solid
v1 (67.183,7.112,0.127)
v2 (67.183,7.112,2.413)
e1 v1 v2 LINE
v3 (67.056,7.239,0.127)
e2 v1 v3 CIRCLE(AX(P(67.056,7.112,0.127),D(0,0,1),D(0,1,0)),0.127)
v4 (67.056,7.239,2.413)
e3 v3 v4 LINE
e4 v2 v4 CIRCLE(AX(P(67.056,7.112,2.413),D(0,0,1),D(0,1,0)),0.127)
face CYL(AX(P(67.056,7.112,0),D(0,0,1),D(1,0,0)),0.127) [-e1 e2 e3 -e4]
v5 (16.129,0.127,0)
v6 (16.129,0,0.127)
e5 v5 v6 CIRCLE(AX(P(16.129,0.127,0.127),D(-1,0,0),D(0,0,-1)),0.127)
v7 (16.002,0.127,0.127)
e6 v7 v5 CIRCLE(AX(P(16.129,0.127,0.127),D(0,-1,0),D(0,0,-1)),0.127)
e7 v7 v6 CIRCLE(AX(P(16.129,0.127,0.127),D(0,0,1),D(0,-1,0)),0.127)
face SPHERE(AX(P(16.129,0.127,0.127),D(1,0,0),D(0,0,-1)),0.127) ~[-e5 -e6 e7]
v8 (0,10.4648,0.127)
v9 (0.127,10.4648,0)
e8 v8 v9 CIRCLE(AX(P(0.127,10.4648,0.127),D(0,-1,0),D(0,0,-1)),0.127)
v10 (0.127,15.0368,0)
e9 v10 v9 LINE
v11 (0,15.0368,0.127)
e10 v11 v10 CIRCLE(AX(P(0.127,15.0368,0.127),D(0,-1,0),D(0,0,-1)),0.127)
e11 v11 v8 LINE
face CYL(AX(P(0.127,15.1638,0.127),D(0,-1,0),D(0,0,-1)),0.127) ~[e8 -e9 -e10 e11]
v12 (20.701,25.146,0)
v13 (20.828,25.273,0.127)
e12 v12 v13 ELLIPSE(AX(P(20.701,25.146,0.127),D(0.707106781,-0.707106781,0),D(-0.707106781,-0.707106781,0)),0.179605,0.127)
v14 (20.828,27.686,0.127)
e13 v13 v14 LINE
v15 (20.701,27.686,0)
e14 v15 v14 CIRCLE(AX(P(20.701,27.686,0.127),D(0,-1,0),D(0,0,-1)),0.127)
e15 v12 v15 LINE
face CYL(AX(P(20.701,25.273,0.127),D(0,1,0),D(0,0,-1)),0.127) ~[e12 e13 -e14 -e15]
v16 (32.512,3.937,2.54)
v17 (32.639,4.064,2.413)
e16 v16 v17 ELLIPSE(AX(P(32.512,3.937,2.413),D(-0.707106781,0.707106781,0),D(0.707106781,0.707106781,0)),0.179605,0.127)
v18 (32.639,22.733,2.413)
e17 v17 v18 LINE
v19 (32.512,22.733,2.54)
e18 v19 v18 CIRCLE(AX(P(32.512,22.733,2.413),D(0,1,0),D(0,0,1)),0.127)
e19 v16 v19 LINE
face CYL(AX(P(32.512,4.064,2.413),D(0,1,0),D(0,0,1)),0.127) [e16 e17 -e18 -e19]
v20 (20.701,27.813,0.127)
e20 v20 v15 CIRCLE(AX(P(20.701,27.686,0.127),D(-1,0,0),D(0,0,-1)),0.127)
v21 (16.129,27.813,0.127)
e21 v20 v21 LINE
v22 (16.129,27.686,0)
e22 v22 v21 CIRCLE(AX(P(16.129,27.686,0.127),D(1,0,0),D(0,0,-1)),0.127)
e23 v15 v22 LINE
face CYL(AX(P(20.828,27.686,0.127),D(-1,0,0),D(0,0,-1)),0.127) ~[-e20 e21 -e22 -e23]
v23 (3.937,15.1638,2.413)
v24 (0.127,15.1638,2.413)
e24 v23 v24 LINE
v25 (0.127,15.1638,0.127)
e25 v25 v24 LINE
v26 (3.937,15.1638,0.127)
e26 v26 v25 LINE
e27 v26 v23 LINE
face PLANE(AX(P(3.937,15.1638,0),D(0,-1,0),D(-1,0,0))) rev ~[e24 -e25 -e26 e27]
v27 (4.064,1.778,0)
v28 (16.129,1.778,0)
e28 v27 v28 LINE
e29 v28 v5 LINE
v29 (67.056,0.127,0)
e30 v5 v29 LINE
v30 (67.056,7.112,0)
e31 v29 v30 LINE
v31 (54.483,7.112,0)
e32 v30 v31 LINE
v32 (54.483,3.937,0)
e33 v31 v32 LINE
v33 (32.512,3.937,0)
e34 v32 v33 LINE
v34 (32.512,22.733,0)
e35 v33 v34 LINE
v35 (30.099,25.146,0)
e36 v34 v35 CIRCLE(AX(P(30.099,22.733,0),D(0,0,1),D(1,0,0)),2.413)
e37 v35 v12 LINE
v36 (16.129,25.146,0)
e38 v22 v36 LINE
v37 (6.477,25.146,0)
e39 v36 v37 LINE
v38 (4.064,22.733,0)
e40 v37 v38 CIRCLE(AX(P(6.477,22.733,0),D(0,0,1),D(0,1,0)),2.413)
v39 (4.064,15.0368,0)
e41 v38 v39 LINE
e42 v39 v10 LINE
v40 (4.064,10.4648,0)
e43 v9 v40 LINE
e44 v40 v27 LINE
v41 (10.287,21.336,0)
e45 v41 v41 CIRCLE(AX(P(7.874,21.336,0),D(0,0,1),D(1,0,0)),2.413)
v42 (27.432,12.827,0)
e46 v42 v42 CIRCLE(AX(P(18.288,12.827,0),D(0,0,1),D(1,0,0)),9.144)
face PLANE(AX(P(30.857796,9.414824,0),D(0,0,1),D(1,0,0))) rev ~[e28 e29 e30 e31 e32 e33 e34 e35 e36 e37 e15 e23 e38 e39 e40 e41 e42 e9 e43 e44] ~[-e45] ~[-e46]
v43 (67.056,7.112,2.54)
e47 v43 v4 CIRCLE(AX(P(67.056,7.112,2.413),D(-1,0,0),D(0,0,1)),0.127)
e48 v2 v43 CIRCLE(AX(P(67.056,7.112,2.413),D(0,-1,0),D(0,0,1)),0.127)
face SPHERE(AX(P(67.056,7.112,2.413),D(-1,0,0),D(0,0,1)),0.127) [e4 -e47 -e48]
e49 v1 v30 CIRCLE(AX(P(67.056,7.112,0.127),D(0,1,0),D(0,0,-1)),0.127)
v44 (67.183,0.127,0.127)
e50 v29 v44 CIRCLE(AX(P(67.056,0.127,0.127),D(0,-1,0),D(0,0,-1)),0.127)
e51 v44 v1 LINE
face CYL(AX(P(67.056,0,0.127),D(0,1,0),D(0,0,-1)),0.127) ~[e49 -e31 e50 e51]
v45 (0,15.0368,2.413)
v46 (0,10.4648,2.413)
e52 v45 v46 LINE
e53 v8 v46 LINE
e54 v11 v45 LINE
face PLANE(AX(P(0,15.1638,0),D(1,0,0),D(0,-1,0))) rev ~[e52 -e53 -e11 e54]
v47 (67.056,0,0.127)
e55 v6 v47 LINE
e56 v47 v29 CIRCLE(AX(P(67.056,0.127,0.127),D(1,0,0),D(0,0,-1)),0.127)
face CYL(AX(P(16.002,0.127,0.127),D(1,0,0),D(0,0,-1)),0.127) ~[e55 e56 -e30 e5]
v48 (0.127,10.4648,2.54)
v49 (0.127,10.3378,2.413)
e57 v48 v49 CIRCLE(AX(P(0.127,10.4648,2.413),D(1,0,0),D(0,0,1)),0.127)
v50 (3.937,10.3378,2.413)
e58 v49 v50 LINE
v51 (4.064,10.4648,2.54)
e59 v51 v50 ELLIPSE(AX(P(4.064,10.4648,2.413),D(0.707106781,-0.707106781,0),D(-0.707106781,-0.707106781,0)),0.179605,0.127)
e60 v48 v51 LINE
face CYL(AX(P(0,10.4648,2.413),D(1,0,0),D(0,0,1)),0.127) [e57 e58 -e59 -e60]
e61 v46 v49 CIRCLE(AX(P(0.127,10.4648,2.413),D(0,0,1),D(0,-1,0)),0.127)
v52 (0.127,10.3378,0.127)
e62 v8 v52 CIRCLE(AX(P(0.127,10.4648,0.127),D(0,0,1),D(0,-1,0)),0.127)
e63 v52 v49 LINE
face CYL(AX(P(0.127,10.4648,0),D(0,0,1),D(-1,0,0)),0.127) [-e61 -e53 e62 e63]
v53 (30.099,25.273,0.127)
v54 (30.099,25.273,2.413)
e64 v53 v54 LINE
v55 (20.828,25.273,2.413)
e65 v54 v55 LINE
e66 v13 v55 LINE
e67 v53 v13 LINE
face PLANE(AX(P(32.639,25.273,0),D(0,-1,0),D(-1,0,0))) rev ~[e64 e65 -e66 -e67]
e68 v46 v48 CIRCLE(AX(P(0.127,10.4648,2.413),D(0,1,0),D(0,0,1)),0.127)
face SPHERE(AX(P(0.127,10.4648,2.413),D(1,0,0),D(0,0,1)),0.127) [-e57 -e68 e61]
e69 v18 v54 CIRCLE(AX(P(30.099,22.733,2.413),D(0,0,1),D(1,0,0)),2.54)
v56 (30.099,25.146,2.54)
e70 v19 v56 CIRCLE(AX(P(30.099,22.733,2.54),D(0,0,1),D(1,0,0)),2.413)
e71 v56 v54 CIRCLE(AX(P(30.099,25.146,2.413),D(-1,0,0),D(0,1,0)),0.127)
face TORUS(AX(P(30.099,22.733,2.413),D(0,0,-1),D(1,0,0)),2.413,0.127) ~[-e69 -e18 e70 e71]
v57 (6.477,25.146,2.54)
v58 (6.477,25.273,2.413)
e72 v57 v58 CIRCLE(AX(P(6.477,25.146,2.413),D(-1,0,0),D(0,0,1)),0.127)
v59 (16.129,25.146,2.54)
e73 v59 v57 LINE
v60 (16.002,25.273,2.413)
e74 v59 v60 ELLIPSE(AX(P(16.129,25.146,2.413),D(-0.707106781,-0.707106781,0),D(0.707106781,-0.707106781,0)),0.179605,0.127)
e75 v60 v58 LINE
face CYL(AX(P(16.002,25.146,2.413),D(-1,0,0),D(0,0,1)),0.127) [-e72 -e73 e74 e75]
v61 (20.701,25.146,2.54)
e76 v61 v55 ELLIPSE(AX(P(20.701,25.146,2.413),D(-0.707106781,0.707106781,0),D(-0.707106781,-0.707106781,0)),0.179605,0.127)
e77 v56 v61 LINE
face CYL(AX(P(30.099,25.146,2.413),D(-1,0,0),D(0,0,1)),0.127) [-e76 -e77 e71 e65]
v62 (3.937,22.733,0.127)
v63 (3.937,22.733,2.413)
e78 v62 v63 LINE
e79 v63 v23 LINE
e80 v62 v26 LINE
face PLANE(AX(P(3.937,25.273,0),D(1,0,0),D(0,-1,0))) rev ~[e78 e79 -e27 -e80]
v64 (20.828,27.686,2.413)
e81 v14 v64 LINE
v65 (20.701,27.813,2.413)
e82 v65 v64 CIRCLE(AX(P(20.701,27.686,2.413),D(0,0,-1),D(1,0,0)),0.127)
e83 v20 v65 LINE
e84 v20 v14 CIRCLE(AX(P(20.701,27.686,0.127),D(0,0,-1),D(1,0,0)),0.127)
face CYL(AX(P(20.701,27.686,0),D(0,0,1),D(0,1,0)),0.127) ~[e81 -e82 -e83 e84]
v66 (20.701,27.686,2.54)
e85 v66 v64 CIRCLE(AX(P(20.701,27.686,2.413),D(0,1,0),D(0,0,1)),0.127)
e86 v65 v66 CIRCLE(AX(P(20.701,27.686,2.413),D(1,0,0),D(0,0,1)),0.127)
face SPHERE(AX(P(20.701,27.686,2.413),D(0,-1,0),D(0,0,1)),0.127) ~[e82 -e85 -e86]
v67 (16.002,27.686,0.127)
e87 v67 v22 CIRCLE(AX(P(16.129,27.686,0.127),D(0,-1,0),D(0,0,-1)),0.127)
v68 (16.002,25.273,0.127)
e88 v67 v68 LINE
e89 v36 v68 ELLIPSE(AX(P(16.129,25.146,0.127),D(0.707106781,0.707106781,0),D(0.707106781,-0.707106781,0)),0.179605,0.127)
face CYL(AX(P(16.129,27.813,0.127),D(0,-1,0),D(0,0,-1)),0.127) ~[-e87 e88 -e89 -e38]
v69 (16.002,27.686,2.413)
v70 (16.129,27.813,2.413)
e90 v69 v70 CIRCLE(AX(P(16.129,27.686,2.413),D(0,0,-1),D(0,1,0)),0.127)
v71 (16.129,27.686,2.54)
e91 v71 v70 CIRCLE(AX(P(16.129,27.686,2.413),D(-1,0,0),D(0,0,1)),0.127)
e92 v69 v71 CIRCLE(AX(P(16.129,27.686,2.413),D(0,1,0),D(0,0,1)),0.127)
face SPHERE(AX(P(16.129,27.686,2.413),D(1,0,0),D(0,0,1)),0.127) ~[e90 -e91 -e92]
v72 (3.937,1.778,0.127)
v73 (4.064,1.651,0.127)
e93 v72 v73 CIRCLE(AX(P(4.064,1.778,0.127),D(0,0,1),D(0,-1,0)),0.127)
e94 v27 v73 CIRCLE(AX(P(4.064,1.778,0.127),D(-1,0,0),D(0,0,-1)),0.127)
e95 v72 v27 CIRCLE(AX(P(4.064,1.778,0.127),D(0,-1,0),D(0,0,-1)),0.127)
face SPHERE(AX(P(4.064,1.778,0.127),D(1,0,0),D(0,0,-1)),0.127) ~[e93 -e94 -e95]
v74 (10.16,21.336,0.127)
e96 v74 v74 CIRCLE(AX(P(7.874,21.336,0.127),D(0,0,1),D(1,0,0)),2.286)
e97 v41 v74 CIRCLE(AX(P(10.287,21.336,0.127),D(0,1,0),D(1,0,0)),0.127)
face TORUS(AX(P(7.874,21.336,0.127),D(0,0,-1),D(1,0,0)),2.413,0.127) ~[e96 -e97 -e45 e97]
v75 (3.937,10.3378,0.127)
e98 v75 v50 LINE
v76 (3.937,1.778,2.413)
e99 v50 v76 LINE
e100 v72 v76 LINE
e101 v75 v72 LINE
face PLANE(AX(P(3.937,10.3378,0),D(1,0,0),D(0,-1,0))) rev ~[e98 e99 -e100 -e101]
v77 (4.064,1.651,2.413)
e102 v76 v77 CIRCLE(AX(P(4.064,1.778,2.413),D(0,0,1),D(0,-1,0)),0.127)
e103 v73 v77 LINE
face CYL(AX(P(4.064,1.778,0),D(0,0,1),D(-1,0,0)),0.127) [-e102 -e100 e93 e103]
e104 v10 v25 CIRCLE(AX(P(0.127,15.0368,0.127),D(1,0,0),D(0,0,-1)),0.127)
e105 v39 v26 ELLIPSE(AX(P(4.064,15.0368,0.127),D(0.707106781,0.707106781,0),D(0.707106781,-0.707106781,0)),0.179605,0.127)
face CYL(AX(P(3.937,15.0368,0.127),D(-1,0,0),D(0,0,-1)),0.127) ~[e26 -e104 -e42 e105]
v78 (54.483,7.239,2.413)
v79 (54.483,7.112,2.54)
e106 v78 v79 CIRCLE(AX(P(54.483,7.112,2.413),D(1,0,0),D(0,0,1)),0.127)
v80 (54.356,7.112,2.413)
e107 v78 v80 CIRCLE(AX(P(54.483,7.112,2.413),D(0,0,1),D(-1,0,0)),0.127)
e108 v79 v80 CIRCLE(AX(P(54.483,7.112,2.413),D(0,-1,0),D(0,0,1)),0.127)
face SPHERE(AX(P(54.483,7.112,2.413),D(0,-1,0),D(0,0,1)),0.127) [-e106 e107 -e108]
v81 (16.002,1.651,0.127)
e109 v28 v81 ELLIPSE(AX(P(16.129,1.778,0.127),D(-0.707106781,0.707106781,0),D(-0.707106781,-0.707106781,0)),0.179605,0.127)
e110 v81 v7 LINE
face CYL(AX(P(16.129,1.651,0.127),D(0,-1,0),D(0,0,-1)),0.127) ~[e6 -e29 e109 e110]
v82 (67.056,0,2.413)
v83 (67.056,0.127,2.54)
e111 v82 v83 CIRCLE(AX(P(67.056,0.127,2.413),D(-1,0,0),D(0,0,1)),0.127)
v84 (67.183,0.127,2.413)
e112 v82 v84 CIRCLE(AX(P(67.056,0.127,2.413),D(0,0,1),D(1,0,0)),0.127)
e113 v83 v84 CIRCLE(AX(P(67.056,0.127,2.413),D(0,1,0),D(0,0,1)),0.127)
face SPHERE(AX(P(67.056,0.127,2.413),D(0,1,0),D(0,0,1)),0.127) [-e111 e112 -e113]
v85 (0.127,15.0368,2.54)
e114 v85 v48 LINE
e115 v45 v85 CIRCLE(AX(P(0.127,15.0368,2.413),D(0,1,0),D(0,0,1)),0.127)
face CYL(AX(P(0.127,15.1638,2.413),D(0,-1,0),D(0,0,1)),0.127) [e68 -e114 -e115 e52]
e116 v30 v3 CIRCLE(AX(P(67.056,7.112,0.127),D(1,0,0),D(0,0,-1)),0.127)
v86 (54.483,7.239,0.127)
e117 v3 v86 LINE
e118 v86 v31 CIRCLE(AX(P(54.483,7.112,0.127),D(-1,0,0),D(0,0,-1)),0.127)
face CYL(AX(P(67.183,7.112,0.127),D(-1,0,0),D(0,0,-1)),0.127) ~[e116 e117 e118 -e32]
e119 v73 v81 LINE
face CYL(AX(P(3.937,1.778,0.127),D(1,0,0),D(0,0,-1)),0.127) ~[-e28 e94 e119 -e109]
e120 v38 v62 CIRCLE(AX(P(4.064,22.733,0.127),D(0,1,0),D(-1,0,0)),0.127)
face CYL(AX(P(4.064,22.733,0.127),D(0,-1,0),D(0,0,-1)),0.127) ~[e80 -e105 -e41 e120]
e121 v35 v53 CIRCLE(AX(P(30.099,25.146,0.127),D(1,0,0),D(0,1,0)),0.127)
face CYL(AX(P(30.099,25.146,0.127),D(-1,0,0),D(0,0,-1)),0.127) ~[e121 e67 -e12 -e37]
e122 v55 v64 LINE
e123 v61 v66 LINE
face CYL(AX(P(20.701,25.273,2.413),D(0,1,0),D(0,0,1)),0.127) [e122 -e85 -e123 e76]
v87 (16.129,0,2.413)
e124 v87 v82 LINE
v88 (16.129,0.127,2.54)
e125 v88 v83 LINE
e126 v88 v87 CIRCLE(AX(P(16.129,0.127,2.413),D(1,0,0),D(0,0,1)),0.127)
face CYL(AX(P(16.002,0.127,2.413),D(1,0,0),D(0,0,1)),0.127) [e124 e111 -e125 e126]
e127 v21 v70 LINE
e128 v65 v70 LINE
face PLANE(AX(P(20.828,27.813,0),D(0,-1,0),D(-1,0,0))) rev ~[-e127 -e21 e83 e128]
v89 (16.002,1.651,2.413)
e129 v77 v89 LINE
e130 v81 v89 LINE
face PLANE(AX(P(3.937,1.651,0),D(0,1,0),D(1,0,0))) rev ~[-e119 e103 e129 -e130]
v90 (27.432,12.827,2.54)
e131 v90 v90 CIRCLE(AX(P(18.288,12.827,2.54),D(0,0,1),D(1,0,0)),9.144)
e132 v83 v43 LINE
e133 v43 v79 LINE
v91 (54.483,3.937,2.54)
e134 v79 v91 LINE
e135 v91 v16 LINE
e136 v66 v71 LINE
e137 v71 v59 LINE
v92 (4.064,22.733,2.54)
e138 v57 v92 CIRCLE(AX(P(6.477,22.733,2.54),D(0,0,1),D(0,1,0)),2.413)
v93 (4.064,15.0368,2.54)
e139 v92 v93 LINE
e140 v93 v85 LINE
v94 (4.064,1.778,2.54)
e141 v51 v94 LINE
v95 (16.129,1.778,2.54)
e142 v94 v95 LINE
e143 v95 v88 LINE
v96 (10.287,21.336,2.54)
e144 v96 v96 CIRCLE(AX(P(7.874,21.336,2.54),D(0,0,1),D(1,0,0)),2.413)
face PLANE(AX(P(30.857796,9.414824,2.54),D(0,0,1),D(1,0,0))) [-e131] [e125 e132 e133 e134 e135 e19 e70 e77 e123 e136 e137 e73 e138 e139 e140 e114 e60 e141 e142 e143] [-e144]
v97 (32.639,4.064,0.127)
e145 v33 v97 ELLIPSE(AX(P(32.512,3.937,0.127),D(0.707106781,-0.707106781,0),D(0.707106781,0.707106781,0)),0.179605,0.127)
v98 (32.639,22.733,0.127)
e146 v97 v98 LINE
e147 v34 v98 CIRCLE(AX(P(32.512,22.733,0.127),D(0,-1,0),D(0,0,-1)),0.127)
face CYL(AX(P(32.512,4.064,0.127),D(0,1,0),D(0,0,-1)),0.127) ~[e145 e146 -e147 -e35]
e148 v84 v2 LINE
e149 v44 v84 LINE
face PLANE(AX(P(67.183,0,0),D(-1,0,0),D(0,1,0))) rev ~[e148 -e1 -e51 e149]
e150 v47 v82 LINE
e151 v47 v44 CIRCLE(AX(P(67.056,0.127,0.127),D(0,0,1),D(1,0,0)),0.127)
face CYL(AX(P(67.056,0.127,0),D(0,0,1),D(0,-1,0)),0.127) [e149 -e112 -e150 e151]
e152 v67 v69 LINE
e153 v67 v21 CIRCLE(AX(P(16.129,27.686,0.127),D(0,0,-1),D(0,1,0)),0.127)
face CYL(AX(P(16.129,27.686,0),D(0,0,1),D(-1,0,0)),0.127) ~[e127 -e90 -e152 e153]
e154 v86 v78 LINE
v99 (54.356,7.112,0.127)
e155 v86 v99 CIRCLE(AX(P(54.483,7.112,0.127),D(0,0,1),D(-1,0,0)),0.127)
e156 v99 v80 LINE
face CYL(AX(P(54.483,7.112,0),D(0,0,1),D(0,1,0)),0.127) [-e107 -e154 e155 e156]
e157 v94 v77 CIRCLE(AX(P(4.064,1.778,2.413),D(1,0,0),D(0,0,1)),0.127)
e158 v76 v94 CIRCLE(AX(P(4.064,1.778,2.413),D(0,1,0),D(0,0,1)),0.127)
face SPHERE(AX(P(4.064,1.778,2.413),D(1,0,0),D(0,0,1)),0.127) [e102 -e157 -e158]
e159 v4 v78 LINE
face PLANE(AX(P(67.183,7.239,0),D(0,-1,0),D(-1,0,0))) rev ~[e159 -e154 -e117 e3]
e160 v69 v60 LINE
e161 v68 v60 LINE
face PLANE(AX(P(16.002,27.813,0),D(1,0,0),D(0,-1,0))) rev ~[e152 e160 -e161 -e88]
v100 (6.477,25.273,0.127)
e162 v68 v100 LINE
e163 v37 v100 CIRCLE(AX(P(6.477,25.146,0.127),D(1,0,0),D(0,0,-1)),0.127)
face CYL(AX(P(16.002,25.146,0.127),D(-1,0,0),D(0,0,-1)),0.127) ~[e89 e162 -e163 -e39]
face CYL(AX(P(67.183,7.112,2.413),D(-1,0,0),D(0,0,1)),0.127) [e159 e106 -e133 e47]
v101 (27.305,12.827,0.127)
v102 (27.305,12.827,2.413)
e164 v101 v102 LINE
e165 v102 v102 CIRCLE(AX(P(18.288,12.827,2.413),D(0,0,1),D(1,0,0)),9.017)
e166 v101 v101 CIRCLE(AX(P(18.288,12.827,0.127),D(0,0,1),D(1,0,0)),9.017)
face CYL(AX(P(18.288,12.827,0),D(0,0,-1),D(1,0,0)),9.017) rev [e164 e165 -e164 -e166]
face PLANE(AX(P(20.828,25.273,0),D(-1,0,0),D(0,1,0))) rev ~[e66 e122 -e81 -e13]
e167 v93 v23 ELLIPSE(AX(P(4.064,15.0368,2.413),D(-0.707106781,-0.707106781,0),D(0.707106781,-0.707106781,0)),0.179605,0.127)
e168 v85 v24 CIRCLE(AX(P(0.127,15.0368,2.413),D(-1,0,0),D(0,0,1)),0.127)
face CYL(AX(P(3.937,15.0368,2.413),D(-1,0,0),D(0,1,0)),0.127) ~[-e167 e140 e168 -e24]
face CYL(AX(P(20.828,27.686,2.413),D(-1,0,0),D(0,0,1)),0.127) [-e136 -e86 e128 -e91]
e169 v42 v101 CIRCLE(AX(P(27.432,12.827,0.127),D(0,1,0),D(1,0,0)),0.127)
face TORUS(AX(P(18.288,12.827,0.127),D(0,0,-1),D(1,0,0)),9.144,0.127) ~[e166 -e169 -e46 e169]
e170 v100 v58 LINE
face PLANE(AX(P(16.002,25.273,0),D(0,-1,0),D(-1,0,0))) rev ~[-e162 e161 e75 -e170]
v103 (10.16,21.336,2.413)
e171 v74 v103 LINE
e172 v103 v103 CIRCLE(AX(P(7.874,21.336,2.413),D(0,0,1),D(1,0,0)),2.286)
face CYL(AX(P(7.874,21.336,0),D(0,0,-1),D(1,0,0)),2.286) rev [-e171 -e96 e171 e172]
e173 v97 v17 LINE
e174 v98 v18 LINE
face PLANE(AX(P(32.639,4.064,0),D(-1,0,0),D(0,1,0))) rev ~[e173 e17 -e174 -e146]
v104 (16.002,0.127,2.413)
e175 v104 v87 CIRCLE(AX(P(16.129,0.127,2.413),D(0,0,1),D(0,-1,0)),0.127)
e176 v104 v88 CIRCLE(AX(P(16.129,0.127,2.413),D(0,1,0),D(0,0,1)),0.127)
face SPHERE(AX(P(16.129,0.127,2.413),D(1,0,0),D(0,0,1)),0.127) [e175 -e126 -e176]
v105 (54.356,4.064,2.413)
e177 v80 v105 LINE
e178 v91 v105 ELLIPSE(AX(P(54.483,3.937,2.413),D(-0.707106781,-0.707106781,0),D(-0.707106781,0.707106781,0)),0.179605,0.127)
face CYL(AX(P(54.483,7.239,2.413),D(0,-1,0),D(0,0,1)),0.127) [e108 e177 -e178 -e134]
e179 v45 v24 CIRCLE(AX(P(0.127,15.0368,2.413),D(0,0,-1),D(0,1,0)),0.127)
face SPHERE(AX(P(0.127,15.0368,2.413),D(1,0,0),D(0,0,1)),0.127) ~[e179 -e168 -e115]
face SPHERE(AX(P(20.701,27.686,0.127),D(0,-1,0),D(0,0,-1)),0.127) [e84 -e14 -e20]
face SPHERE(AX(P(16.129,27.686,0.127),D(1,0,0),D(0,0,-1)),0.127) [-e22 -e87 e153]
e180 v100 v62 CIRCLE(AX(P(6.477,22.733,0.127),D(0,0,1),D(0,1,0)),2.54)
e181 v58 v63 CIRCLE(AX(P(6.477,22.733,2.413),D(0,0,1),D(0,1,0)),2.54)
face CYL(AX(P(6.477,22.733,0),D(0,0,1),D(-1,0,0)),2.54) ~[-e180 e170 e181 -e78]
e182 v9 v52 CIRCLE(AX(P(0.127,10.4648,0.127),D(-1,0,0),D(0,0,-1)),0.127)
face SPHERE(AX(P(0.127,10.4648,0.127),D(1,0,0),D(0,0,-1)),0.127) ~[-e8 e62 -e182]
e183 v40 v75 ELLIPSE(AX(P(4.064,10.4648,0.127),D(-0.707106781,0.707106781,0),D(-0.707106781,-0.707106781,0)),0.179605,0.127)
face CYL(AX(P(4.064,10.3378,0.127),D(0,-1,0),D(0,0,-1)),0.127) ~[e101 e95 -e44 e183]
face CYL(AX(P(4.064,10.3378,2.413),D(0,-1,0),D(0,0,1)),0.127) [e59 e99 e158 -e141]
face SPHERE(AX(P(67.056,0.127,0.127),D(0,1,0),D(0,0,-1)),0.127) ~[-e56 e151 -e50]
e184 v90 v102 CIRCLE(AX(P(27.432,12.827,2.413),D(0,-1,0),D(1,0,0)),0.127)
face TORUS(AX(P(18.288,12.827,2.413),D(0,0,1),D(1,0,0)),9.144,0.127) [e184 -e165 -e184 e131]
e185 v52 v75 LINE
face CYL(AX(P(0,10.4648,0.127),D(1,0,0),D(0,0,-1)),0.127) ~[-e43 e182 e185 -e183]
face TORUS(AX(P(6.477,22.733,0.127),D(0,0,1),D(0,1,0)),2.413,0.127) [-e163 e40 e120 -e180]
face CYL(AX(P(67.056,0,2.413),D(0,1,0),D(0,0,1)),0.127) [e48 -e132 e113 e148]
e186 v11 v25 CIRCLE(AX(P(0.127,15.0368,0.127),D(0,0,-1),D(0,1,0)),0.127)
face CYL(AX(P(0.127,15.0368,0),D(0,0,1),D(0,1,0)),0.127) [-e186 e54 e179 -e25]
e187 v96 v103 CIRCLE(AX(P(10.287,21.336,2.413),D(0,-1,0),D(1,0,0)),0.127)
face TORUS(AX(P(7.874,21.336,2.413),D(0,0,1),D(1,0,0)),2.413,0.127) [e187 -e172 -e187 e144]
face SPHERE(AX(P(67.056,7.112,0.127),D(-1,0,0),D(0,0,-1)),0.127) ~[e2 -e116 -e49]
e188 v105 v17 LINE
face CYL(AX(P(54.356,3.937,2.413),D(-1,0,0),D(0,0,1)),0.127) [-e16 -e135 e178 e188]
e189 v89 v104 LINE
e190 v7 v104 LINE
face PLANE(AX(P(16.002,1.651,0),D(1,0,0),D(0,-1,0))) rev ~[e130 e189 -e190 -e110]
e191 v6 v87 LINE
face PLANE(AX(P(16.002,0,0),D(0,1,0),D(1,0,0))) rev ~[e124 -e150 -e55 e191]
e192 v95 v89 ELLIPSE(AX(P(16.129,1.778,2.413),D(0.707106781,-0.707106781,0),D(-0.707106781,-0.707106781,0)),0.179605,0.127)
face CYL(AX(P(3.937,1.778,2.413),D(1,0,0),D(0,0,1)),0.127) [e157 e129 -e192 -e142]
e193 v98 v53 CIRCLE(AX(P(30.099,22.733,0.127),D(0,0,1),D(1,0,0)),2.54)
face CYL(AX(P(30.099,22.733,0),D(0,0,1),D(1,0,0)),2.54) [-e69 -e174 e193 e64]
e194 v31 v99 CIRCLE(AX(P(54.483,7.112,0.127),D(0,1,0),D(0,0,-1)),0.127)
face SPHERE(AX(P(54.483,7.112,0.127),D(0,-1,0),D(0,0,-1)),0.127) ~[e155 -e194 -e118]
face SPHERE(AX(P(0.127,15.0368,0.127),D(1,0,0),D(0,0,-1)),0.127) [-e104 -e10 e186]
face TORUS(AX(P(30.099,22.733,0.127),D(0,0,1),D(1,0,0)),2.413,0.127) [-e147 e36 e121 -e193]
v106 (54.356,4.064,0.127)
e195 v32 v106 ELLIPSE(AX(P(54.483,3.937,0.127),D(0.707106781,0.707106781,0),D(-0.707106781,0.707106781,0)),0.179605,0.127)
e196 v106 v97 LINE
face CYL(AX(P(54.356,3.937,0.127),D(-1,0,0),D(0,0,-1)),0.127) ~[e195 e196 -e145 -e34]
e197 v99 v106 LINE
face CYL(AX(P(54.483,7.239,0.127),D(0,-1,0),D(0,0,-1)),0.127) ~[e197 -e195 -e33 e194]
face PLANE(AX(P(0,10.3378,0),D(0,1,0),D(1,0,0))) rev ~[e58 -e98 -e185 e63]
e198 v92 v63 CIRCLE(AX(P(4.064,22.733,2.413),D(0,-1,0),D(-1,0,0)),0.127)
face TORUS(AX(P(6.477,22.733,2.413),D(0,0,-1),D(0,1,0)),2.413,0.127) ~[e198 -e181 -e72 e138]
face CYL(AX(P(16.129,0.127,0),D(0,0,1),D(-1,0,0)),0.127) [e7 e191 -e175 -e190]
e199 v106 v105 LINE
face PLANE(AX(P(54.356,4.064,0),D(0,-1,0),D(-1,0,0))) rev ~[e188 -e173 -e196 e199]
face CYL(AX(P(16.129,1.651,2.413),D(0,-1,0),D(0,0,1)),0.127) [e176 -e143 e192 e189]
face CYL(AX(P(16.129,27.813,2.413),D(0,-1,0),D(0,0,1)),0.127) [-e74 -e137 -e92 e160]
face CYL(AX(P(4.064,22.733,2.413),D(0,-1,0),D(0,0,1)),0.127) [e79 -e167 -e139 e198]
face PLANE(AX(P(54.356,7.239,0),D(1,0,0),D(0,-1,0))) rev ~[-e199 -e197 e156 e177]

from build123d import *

# Parameters (mm, degrees)
F1_R     = 9.017
F1_R_2   = 2.286
F2_DEPTH = 2.54
F3_R     = 2.54
F4_R     = 0.127


with BuildPart() as f2:
    # F1 (on Top) → F2 (new body)
    with BuildSketch(Plane.XY):
        Polygon((16.002, 1.651), (16.002, 0), (67.183, 0), (67.183, 7.239), (54.356, 7.239), (54.356, 4.064), (32.639, 4.064), (32.639, 25.273), (20.828, 25.273), (20.828, 27.813), (16.002, 27.813), (16.002, 25.273), (3.937, 25.273), (3.937, 15.1638), (0, 15.1638), (0, 10.3378), (3.937, 10.3378), (3.937, 1.651), align=None)
        with Locations((18.288, 12.827)):
            Circle(F1_R, mode=Mode.SUBTRACT)
        with Locations((7.874, 21.336)):
            Circle(F1_R_2, mode=Mode.SUBTRACT)
    extrude(amount=F2_DEPTH)

    # F3
    f3_edges = [f2.edges().sort_by_distance(p)[0] for p in [
        (3.937, 25.273, 1.27),
        (32.639, 25.273, 1.27),
    ]]
    fillet(f3_edges, radius=F3_R)

    # F4
    f4_edges = [f2.edges().sort_by_distance(p)[0] for p in [
        (32.639, 13.3985, 2.54),
        (31.895051, 24.529051, 2.54),
        (43.4975, 4.064, 2.54),
        (25.4635, 25.273, 2.54),
        (54.356, 5.6515, 2.54),
        (20.828, 26.543, 2.54),
        (60.7695, 7.239, 2.54),
        (18.415, 27.813, 2.54),
        (67.183, 3.6195, 2.54),
        (16.002, 26.543, 2.54),
        (41.5925, 0, 2.54),
        (11.2395, 25.273, 2.54),
        (16.002, 0.8255, 2.54),
        (4.680949, 24.529051, 2.54),
        (9.9695, 1.651, 2.54),
        (3.937, 18.9484, 2.54),
        (3.937, 5.9944, 2.54),
        (1.9685, 15.1638, 2.54),
        (1.9685, 10.3378, 2.54),
        (0, 12.7508, 2.54),
        (9.271, 12.827, 2.54),
        (5.588, 21.336, 2.54),
        (32.639, 13.3985, 0),
        (31.895051, 24.529051, 0),
        (43.4975, 4.064, 0),
        (25.4635, 25.273, 0),
        (54.356, 5.6515, 0),
        (20.828, 26.543, 0),
        (60.7695, 7.239, 0),
        (18.415, 27.813, 0),
        (67.183, 3.6195, 0),
        (16.002, 26.543, 0),
        (41.5925, 0, 0),
        (11.2395, 25.273, 0),
        (16.002, 0.8255, 0),
        (4.680949, 24.529051, 0),
        (9.9695, 1.651, 0),
        (3.937, 18.9484, 0),
        (3.937, 5.9944, 0),
        (1.9685, 15.1638, 0),
        (1.9685, 10.3378, 0),
        (0, 12.7508, 0),
        (9.271, 12.827, 0),
        (5.588, 21.336, 0),
        (20.828, 27.813, 1.27),
        (16.002, 27.813, 1.27),
        (0, 15.1638, 1.27),
        (0, 10.3378, 1.27),
        (3.937, 1.651, 1.27),
        (16.002, 0, 1.27),
        (54.356, 7.239, 1.27),
        (67.183, 7.239, 1.27),
        (67.183, 0, 1.27),
    ]]
    fillet(f4_edges, radius=F4_R)


solid = f2.part
